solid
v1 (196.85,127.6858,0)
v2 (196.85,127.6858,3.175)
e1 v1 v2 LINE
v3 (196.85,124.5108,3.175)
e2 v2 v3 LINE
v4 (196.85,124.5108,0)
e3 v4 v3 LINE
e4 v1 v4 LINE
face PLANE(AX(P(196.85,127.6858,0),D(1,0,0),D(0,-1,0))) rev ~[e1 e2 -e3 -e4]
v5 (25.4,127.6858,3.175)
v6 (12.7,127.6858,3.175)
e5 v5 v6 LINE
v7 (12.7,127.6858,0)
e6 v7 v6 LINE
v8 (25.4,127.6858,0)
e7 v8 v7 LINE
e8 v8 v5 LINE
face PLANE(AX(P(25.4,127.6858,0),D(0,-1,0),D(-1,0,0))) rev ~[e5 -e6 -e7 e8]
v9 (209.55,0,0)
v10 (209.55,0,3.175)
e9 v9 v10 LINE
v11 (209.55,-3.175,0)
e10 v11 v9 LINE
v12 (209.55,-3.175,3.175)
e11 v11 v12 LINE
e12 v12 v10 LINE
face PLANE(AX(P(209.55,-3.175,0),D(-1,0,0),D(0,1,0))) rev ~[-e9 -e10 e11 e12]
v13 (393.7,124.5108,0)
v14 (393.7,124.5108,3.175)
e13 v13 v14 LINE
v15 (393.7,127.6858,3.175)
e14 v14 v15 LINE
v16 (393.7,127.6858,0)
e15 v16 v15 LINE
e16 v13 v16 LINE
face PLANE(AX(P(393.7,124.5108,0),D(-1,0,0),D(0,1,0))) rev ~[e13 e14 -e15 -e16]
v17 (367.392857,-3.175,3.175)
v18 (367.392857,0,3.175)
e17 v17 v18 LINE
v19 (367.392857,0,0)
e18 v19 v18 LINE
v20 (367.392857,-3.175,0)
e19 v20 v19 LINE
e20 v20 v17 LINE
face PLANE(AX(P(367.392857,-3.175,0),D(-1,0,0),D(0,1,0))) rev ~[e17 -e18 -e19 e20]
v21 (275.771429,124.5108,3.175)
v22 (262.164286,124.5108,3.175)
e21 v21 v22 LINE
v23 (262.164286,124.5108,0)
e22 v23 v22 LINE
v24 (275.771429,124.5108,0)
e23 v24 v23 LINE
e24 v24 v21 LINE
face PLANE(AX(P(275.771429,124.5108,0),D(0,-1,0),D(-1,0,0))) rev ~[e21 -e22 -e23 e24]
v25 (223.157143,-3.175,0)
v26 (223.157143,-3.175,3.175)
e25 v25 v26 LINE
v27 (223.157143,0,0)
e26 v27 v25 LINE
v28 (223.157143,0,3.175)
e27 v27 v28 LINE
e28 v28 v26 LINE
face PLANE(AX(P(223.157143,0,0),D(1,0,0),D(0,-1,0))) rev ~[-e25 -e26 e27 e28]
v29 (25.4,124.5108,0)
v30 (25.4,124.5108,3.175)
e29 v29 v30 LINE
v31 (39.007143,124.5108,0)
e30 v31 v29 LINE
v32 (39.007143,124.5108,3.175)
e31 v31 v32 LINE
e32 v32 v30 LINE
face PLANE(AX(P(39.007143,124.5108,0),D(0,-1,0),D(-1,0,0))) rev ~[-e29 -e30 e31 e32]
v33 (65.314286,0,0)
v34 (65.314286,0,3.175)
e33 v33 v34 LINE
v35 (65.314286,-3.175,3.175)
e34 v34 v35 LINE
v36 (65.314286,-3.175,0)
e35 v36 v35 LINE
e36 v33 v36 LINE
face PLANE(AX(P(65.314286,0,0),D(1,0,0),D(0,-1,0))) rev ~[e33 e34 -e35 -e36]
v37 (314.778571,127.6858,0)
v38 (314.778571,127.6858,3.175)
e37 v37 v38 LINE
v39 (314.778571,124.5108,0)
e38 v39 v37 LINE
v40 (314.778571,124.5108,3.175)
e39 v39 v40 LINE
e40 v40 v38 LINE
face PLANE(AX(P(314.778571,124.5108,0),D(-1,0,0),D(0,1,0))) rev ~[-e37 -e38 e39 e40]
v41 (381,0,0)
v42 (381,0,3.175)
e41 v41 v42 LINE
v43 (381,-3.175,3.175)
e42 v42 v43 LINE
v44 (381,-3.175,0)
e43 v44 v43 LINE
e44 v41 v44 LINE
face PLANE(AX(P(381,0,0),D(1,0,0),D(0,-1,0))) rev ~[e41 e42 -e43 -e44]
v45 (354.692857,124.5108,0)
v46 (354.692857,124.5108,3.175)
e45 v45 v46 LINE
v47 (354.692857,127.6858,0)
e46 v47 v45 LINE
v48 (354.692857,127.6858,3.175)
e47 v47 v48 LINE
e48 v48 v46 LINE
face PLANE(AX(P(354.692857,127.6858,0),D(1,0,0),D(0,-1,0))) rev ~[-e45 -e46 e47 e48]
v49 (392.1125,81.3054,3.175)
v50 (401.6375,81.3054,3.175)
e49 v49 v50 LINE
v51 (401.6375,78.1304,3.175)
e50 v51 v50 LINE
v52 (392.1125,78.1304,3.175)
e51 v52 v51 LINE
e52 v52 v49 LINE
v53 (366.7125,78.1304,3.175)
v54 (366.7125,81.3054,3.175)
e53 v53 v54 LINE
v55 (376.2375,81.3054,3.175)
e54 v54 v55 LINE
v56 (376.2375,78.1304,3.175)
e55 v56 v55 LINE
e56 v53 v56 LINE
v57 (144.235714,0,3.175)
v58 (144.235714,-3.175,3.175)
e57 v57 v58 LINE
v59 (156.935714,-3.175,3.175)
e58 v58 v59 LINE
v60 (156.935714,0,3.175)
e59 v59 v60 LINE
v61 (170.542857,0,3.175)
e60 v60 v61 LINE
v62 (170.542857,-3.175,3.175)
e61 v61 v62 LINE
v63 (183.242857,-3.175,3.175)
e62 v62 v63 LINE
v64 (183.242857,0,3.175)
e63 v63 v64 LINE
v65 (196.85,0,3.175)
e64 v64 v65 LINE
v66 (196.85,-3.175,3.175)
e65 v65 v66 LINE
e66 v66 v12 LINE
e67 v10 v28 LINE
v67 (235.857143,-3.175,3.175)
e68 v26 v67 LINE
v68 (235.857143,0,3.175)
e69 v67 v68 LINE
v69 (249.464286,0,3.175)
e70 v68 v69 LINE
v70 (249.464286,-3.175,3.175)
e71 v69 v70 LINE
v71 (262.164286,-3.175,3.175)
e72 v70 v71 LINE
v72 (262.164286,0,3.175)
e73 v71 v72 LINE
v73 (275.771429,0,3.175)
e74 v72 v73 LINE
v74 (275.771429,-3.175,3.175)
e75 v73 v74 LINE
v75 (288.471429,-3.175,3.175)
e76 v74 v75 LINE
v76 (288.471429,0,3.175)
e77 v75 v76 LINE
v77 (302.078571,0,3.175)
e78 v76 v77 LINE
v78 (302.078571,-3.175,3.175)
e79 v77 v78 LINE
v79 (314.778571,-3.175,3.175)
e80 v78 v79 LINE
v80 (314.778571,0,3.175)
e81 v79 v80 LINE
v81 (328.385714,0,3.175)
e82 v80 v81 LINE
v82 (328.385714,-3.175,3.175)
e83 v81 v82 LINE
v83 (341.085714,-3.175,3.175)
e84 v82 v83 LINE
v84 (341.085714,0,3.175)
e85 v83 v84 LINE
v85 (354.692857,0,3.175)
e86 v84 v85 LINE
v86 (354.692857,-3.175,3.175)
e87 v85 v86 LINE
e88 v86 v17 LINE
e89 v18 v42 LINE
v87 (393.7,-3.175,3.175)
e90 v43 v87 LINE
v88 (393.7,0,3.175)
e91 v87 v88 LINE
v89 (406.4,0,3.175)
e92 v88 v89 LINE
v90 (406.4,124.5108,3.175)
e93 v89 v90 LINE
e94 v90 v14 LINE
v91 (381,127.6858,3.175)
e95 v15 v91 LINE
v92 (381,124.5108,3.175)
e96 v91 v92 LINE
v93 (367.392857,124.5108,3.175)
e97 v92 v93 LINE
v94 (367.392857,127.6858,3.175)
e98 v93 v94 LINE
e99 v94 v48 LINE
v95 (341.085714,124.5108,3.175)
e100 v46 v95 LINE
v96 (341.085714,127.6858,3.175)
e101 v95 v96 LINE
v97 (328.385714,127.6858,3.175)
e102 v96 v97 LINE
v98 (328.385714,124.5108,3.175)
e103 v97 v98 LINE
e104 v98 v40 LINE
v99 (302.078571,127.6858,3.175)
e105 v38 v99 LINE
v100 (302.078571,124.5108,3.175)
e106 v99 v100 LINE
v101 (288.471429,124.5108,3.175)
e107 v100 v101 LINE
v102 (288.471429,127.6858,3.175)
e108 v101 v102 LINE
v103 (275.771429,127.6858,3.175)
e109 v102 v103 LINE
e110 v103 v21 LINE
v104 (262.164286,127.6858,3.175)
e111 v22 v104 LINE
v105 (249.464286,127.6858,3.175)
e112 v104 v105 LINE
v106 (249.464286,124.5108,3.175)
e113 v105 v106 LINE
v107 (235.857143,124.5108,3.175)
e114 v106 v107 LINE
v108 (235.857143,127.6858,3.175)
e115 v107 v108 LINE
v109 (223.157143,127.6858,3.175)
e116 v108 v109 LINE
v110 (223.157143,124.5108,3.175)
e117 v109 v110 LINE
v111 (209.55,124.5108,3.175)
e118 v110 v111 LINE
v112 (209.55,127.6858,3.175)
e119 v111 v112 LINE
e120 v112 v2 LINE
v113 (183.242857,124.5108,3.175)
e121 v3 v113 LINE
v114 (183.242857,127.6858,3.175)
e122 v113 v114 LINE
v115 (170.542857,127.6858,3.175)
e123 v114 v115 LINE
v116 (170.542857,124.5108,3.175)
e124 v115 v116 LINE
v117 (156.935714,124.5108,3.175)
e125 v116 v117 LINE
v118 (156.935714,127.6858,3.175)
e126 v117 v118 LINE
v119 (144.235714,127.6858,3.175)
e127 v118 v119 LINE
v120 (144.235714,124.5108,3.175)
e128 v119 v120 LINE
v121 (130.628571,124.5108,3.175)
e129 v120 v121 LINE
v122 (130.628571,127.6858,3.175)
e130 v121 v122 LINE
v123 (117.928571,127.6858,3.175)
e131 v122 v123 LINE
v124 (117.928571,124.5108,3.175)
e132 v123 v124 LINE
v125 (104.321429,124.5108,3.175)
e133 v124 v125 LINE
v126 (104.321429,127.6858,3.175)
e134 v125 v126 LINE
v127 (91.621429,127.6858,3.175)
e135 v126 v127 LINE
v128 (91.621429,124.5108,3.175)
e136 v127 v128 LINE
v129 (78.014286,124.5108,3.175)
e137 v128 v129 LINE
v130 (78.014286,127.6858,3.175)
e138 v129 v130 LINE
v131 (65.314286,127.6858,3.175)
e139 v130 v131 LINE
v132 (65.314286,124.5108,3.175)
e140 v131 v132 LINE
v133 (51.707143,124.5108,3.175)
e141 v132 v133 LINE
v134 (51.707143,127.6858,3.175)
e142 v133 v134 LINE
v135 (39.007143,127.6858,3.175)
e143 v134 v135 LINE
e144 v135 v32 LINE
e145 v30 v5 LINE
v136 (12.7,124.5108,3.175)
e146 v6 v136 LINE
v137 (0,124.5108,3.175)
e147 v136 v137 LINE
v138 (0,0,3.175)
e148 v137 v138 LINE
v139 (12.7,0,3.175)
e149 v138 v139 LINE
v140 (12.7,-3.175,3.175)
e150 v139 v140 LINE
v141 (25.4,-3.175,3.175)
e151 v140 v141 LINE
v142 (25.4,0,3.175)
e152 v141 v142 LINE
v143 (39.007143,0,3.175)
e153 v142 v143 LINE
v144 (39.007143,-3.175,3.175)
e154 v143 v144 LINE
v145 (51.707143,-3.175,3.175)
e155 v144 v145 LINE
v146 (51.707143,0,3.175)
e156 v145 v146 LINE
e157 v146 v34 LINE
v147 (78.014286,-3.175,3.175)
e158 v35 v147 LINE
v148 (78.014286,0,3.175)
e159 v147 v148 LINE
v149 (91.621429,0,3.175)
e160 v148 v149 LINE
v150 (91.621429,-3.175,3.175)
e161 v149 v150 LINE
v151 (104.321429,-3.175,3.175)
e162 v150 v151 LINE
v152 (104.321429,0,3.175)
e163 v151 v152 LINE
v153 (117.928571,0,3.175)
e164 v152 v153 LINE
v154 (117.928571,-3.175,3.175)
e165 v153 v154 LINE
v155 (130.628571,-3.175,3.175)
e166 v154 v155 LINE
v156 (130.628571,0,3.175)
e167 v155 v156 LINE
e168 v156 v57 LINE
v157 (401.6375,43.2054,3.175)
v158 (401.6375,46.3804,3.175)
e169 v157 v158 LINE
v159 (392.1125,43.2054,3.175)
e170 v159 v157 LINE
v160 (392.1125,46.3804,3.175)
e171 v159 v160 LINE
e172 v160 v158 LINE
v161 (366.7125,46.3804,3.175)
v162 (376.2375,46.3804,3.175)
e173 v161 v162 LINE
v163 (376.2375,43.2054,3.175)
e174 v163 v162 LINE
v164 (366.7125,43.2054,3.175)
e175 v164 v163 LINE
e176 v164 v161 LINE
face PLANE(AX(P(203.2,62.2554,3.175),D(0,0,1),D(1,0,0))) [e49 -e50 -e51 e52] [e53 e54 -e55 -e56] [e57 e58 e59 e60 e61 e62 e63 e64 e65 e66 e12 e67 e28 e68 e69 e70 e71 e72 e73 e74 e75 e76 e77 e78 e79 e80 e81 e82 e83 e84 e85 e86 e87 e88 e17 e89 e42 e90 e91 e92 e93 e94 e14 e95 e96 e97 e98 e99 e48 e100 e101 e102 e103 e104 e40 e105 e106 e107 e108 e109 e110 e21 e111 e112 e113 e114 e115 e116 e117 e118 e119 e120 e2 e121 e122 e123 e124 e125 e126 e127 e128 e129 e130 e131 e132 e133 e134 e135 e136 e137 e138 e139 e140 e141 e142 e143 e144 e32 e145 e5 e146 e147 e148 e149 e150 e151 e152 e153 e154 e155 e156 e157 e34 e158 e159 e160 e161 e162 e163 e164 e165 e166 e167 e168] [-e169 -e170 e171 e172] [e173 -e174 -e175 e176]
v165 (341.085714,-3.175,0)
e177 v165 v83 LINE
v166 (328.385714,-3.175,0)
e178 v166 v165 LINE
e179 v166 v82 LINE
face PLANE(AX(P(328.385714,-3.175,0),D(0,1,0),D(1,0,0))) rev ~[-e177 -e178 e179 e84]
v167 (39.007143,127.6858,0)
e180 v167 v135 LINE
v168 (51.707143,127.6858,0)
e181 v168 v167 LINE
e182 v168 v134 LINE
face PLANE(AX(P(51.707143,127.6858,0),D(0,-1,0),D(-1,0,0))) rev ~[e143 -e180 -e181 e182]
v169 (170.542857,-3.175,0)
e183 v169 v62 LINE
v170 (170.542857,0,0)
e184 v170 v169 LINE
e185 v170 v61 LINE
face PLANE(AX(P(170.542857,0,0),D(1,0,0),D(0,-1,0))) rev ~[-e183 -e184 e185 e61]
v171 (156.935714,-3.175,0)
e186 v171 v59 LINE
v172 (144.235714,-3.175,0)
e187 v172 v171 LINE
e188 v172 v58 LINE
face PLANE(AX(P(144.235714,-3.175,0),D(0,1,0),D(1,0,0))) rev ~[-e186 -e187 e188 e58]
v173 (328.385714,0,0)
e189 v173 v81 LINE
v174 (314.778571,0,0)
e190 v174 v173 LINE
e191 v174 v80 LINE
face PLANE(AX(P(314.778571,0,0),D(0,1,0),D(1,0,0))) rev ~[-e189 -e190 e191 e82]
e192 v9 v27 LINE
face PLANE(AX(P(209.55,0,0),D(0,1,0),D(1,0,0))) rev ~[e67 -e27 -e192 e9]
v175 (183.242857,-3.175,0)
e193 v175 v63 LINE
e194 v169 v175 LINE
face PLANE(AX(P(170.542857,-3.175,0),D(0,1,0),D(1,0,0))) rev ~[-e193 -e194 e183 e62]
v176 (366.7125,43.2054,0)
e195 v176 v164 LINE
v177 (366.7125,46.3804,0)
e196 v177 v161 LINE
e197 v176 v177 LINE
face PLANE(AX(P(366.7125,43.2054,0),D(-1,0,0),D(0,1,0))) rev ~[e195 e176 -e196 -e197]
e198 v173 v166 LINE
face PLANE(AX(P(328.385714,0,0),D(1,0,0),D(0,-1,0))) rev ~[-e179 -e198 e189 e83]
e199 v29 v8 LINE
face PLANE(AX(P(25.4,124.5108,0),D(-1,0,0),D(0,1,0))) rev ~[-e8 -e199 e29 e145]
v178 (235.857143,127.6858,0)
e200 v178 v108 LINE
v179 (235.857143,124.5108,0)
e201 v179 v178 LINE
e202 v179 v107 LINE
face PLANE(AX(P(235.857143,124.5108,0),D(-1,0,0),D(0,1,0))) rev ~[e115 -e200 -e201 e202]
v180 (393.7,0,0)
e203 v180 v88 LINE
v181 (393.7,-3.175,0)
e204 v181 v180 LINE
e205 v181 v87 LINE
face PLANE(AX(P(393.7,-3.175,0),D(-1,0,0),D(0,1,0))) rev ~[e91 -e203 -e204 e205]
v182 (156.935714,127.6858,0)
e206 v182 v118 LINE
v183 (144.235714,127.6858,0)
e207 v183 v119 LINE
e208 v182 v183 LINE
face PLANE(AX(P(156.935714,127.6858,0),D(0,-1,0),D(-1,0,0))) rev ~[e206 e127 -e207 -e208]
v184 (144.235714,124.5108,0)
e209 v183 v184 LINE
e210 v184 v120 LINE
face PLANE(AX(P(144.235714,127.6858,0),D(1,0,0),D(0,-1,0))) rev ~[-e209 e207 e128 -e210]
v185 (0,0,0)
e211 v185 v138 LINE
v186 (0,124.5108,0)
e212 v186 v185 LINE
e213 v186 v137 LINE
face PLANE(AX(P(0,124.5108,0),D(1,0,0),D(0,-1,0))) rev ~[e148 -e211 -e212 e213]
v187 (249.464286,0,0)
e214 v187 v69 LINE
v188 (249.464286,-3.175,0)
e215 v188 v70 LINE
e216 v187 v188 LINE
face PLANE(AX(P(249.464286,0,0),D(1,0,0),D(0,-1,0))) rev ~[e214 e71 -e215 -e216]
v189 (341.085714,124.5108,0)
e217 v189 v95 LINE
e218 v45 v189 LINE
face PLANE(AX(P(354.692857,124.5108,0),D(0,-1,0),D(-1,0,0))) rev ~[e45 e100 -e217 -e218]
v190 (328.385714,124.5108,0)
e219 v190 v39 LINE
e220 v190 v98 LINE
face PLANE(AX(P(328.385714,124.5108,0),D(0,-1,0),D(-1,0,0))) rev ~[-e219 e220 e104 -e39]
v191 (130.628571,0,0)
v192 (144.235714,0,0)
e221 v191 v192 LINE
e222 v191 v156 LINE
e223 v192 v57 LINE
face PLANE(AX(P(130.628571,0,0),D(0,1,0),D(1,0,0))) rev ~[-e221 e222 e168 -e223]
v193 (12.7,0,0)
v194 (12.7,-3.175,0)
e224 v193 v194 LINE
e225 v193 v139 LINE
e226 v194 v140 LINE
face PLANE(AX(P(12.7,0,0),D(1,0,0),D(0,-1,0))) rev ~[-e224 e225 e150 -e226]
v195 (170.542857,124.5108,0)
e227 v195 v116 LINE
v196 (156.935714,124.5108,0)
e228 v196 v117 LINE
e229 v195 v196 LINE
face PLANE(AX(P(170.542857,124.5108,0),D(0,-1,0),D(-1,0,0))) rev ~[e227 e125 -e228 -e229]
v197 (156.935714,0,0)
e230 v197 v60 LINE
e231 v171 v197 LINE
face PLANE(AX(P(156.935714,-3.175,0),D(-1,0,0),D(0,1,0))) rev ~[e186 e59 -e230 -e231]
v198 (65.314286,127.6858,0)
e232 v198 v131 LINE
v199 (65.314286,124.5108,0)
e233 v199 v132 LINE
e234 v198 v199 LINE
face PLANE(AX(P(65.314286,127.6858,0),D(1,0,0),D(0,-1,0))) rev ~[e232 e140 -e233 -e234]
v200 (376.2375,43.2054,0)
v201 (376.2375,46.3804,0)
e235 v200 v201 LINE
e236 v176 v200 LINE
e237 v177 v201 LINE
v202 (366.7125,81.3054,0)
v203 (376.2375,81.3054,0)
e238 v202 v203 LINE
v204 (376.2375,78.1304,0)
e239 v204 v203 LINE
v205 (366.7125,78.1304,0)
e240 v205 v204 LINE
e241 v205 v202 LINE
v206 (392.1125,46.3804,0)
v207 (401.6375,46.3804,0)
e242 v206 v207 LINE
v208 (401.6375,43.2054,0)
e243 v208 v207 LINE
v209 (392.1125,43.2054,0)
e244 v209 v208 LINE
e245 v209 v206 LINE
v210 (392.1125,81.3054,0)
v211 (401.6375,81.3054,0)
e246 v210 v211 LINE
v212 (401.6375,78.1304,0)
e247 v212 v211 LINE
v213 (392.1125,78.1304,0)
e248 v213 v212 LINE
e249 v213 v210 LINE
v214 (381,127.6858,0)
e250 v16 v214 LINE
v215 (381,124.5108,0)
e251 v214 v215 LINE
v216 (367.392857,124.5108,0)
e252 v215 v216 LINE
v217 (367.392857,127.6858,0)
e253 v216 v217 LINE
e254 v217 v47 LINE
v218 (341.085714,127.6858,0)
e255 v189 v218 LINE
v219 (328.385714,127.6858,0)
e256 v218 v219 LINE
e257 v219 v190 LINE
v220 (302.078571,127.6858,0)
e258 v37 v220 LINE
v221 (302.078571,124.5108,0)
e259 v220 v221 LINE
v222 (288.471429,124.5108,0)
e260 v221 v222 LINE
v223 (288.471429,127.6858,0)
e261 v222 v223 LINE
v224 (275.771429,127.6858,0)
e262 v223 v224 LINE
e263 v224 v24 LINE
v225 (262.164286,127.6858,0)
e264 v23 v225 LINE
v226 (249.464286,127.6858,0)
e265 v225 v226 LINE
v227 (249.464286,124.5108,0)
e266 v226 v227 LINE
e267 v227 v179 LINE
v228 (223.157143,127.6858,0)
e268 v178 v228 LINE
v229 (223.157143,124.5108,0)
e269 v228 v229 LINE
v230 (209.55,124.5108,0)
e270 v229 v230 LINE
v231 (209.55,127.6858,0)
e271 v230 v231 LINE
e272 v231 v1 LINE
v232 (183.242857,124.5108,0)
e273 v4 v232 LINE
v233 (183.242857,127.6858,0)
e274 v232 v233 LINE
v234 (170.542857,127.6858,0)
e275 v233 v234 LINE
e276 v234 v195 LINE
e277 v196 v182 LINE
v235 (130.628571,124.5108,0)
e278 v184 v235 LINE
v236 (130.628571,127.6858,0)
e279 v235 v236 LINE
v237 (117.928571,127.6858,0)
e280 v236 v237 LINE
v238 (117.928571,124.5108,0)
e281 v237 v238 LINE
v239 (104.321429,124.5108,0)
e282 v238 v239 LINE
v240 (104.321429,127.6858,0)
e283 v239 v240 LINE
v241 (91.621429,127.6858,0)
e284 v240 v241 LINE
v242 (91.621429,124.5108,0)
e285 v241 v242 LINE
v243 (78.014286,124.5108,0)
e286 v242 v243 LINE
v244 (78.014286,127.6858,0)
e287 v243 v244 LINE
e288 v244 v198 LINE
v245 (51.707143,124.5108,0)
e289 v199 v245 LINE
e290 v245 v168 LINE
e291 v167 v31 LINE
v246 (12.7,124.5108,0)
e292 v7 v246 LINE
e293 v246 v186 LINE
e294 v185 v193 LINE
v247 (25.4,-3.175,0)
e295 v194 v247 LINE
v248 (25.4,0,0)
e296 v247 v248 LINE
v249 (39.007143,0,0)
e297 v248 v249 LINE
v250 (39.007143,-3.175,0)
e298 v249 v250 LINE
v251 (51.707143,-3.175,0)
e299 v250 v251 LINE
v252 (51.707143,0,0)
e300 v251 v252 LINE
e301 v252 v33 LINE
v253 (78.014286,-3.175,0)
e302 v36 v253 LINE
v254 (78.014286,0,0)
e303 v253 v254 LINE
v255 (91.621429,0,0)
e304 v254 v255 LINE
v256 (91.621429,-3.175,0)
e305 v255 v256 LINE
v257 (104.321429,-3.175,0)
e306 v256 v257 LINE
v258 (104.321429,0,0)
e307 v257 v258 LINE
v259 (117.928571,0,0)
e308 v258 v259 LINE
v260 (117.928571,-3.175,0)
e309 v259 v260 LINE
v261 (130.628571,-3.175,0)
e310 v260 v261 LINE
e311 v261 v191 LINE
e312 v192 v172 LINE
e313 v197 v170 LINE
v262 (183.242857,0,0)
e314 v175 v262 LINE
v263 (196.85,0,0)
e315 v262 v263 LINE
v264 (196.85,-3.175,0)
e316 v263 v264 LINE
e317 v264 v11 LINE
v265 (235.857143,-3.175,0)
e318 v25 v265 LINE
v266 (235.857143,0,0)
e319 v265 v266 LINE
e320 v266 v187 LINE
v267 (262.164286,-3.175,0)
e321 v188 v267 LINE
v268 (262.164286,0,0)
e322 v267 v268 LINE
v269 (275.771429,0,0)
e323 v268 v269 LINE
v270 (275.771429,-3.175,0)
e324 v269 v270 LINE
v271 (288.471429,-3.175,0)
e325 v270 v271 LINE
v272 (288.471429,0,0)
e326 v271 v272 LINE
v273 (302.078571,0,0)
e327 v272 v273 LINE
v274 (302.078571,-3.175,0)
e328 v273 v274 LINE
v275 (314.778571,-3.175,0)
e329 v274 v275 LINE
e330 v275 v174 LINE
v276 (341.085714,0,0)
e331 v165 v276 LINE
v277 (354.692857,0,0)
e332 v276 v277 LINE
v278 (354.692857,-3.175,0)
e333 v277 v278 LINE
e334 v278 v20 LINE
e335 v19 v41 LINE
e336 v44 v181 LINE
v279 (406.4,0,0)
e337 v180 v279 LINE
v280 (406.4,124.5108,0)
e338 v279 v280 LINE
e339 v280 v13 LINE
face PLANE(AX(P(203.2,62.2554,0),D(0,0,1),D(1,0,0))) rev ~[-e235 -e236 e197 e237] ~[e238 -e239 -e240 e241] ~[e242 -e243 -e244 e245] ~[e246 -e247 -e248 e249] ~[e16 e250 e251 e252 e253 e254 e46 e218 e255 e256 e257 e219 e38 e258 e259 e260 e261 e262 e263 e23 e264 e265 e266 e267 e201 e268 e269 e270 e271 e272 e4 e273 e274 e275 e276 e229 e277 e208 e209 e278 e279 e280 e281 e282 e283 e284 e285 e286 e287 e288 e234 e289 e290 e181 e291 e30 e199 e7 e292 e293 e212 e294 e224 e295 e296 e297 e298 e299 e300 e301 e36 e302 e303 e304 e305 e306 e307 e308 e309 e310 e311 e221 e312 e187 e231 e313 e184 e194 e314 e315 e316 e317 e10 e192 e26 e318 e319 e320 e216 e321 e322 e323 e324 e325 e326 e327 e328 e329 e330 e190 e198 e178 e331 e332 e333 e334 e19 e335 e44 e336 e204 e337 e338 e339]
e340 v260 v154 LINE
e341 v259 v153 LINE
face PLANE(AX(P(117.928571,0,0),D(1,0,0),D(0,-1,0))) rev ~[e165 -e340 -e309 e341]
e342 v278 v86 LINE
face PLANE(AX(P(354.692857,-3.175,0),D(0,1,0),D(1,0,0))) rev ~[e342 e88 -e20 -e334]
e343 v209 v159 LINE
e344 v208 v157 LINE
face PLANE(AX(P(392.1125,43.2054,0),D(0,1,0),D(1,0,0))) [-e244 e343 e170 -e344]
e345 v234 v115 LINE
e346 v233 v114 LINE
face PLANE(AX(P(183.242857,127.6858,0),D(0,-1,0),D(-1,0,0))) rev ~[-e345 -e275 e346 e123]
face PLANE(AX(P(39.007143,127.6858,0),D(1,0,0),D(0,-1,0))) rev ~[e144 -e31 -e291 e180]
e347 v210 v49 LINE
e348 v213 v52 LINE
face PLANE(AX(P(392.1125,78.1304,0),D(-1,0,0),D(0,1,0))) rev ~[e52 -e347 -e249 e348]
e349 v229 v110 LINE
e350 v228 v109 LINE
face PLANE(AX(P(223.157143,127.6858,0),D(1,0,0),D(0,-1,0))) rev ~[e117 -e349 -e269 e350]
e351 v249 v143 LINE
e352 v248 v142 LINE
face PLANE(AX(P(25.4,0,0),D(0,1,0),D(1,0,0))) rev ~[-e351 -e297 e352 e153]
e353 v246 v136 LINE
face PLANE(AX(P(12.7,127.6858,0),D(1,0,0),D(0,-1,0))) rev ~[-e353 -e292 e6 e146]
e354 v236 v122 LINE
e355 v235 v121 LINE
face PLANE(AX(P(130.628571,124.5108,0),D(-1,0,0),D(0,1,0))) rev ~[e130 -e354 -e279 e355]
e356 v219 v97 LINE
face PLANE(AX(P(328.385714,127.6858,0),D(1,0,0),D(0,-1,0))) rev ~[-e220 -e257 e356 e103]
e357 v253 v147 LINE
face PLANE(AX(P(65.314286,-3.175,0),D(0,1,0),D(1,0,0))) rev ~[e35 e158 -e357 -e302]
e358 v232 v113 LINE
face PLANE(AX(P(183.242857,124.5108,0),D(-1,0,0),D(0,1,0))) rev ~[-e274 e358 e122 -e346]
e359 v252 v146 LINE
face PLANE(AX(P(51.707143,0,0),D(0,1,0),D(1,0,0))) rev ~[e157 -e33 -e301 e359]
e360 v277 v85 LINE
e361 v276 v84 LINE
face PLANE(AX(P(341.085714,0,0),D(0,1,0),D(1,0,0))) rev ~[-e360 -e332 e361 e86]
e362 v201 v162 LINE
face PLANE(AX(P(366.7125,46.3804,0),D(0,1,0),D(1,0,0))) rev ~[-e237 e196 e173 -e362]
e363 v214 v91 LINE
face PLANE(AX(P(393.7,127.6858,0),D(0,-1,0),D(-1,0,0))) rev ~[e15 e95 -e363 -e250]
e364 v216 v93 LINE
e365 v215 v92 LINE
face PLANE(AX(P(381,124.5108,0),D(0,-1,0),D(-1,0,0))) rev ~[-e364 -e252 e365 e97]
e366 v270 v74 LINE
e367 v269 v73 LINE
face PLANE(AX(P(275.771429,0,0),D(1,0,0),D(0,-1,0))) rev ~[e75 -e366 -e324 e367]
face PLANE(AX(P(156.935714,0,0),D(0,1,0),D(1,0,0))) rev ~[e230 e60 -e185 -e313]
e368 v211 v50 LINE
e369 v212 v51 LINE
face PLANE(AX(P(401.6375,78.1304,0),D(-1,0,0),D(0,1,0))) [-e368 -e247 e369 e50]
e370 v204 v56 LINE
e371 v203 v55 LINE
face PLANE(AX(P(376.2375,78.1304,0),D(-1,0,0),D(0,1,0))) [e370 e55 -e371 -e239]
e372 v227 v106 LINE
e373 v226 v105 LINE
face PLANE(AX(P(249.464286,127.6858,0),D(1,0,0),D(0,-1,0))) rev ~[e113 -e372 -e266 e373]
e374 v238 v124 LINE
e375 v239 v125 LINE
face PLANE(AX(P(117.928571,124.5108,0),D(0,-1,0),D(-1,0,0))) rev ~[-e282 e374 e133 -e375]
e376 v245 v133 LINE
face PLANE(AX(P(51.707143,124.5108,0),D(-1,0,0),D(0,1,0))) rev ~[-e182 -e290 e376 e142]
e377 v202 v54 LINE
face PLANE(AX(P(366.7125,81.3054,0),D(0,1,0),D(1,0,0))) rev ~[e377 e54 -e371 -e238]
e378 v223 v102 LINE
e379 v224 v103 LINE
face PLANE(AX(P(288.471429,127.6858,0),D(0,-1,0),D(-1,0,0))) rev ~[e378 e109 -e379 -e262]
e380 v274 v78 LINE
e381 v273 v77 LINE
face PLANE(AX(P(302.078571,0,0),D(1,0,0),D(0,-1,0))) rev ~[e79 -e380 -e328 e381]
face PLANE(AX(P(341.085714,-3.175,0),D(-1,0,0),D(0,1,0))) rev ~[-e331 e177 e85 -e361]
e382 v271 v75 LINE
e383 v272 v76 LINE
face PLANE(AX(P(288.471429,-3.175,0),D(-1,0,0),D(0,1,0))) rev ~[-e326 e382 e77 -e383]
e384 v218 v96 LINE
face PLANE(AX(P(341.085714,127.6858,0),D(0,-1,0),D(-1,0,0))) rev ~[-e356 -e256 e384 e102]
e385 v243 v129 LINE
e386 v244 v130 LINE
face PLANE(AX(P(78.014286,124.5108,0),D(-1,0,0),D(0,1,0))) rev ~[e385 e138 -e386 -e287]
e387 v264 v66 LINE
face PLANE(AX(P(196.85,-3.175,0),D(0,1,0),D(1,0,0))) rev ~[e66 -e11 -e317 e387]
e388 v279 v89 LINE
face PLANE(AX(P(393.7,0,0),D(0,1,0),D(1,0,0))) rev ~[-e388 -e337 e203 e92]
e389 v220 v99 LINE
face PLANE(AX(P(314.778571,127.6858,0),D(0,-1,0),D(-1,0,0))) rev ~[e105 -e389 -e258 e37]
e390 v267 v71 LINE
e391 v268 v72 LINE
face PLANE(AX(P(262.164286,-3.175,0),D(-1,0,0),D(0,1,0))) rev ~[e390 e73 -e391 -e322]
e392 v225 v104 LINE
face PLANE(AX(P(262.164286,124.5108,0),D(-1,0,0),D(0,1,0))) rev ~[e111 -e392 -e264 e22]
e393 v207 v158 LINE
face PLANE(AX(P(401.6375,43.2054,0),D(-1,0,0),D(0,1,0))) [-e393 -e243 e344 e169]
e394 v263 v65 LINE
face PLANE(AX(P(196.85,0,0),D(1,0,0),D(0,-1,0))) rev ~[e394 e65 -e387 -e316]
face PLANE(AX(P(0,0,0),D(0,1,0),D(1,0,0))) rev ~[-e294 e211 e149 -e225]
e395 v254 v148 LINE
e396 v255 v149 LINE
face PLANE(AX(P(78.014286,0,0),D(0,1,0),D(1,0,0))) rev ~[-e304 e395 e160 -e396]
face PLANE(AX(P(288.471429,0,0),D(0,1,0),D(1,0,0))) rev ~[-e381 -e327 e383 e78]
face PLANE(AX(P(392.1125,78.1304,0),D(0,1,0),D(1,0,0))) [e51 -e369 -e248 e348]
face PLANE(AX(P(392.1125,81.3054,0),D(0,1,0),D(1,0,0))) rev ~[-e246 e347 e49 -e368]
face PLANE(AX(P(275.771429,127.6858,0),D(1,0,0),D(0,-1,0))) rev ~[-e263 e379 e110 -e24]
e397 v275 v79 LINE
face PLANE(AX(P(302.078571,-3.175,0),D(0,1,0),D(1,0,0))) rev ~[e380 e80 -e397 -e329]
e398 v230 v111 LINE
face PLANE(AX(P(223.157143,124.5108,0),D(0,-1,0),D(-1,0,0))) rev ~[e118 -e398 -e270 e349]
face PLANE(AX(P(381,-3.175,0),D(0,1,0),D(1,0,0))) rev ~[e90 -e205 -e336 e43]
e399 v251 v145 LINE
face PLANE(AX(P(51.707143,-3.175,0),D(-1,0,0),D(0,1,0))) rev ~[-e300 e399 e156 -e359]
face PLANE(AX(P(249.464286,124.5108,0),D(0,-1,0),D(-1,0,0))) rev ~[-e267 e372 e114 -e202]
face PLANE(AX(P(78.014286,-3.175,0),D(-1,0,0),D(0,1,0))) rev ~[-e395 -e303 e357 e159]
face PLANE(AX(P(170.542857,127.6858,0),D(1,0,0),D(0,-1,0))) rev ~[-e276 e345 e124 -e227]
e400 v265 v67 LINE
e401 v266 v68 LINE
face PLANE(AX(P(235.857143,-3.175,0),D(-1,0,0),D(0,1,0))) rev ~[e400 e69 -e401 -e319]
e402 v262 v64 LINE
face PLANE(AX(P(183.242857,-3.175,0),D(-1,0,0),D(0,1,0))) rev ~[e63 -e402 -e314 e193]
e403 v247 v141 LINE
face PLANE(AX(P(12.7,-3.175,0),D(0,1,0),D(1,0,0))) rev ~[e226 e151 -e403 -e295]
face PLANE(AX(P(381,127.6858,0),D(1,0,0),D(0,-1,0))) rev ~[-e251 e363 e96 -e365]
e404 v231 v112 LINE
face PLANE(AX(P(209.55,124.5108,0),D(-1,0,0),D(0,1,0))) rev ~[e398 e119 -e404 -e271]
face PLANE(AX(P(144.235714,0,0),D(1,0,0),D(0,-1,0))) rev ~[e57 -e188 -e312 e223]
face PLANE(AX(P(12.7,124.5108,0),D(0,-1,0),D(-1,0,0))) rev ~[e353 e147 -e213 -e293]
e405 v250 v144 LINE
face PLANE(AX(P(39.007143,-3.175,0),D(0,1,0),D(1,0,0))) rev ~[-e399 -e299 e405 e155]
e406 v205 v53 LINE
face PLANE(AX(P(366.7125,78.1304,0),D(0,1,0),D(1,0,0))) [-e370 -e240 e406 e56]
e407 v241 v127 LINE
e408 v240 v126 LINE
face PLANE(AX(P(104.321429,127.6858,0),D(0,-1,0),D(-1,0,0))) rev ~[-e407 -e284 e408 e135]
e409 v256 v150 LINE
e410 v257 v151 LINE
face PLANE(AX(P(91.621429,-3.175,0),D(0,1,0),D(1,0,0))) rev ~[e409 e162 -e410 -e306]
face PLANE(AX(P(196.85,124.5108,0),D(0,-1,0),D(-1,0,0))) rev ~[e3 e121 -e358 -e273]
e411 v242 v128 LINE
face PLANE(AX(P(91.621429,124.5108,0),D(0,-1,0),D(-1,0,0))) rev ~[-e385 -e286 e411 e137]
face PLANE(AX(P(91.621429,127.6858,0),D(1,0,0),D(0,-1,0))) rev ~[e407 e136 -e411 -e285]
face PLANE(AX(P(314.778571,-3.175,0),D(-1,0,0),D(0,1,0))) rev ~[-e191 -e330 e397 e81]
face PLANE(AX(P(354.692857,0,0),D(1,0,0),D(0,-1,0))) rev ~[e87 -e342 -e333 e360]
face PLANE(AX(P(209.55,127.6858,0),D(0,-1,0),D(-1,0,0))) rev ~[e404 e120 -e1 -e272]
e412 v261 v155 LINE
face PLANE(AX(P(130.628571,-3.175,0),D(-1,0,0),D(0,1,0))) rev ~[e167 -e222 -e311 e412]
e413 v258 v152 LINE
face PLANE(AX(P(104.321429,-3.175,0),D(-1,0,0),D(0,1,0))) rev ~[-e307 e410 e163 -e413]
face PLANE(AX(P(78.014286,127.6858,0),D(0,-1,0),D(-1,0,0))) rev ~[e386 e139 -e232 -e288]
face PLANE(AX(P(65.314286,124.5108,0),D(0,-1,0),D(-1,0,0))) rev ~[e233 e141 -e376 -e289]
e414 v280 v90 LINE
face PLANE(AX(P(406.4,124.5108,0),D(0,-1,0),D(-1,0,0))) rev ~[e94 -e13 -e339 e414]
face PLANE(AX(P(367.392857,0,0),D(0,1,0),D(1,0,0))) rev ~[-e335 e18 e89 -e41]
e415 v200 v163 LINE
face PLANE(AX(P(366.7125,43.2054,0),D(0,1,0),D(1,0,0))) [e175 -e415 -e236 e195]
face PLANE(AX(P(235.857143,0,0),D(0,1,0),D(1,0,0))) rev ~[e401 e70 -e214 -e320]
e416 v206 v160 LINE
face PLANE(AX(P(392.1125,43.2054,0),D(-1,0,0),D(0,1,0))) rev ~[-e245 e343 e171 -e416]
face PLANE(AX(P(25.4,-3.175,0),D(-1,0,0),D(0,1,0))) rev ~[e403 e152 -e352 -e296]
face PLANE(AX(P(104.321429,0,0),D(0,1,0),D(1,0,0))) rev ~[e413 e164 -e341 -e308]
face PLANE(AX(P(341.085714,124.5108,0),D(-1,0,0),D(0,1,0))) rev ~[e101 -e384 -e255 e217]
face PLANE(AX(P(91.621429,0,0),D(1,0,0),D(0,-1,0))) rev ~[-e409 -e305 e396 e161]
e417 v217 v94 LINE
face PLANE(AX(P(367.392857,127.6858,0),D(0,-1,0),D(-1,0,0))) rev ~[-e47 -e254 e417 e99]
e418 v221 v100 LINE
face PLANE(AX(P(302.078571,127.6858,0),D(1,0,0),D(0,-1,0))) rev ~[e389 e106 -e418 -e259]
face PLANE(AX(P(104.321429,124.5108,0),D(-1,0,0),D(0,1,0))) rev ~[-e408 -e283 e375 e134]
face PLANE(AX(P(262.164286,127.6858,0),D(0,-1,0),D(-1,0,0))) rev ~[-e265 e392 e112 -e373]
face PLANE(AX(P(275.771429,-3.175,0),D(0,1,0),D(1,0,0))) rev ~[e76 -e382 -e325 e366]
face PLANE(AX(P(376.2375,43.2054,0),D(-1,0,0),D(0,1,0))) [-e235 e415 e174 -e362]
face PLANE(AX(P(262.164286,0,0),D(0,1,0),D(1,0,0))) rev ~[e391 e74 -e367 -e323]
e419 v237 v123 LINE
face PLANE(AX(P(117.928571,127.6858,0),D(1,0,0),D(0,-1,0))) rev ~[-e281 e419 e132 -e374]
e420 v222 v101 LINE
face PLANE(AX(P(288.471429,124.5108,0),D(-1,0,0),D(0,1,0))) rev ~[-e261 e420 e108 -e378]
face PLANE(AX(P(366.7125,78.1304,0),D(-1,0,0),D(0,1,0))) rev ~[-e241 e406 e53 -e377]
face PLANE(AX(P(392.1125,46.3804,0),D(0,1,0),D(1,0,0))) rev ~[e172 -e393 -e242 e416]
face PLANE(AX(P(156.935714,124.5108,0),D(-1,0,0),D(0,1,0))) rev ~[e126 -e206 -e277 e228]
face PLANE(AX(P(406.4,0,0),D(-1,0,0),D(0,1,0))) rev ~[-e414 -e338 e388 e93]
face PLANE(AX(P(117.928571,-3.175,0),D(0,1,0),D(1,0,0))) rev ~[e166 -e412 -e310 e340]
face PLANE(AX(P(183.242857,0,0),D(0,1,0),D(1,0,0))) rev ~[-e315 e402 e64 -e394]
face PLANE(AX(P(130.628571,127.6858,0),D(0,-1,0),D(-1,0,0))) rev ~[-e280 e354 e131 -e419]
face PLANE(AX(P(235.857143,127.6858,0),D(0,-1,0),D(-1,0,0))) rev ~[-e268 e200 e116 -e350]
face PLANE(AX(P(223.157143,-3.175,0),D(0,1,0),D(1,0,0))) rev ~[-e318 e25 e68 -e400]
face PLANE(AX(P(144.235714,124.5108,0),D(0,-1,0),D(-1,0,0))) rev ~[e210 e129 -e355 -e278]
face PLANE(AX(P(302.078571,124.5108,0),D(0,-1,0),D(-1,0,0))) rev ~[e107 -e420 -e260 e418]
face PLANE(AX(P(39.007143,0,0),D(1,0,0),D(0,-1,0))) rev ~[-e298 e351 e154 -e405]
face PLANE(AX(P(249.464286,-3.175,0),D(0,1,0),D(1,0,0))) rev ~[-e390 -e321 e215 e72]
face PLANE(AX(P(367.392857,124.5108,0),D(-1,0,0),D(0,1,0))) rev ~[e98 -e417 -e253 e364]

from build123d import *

# Parameters (mm, degrees)
SKETCH1_W           = 9.525
SKETCH1_H           = 3.175
BOSS_EXTRUDE1_DEPTH = 3.175


with BuildPart() as part:
    # Sketch1 → Boss-Extrude1 (new body)
    with BuildSketch(Plane.XY):
        Polygon((406.4, 0), (406.4, 124.5108), (393.7, 124.5108), (393.7, 127.6858), (381, 127.6858), (381, 124.5108), (367.392857143, 124.5108), (367.392857143, 127.6858), (354.692857143, 127.6858), (354.692857143, 124.5108), (341.085714286, 124.5108), (341.085714286, 127.6858), (328.385714286, 127.6858), (328.385714286, 124.5108), (314.778571429, 124.5108), (314.778571429, 127.6858), (302.078571429, 127.6858), (302.078571429, 124.5108), (288.471428571, 124.5108), (288.471428571, 127.6858), (275.771428571, 127.6858), (275.771428571, 124.5108), (262.164285714, 124.5108), (262.164285714, 127.6858), (249.464285714, 127.6858), (249.464285714, 124.5108), (235.857142857, 124.5108), (235.857142857, 127.6858), (223.157142857, 127.6858), (223.157142857, 124.5108), (209.55, 124.5108), (209.55, 127.6858), (196.85, 127.6858), (196.85, 124.5108), (183.242857143, 124.5108), (183.242857143, 127.6858), (170.542857143, 127.6858), (170.542857143, 124.5108), (156.935714286, 124.5108), (156.935714286, 127.6858), (144.235714286, 127.6858), (144.235714286, 124.5108), (130.628571429, 124.5108), (130.628571429, 127.6858), (117.928571429, 127.6858), (117.928571429, 124.5108), (104.321428571, 124.5108), (104.321428571, 127.6858), (91.621428571, 127.6858), (91.621428571, 124.5108), (78.014285714, 124.5108), (78.014285714, 127.6858), (65.314285714, 127.6858), (65.314285714, 124.5108), (51.707142857, 124.5108), (51.707142857, 127.6858), (39.007142857, 127.6858), (39.007142857, 124.5108), (25.4, 124.5108), (25.4, 127.6858), (12.7, 127.6858), (12.7, 124.5108), (0, 124.5108), (0, 0), (12.7, 0), (12.7, -3.175), (25.4, -3.175), (25.4, 0), (39.007142857, 0), (39.007142857, -3.175), (51.707142857, -3.175), (51.707142857, 0), (65.314285714, 0), (65.314285714, -3.175), (78.014285714, -3.175), (78.014285714, 0), (91.621428571, 0), (91.621428571, -3.175), (104.321428571, -3.175), (104.321428571, 0), (117.928571429, 0), (117.928571429, -3.175), (130.628571429, -3.175), (130.628571429, 0), (144.235714286, 0), (144.235714286, -3.175), (156.935714286, -3.175), (156.935714286, 0), (170.542857143, 0), (170.542857143, -3.175), (183.242857143, -3.175), (183.242857143, 0), (196.85, 0), (196.85, -3.175), (209.55, -3.175), (209.55, 0), (223.157142857, 0), (223.157142857, -3.175), (235.857142857, -3.175), (235.857142857, 0), (249.464285714, 0), (249.464285714, -3.175), (262.164285714, -3.175), (262.164285714, 0), (275.771428571, 0), (275.771428571, -3.175), (288.471428571, -3.175), (288.471428571, 0), (302.078571429, 0), (302.078571429, -3.175), (314.778571429, -3.175), (314.778571429, 0), (328.385714286, 0), (328.385714286, -3.175), (341.085714286, -3.175), (341.085714286, 0), (354.692857143, 0), (354.692857143, -3.175), (367.392857143, -3.175), (367.392857143, 0), (381, 0), (381, -3.175), (393.7, -3.175), (393.7, 0), align=None)
        with Locations((396.875, 79.7179)):
            Rectangle(SKETCH1_W, SKETCH1_H, mode=Mode.SUBTRACT)
        with Locations((396.875, 44.7929)):
            Rectangle(SKETCH1_W, SKETCH1_H, mode=Mode.SUBTRACT)
        with Locations((371.475, 79.7179)):
            Rectangle(SKETCH1_W, SKETCH1_H, mode=Mode.SUBTRACT)
        with Locations((371.475, 44.7929)):
            Rectangle(SKETCH1_W, SKETCH1_H, mode=Mode.SUBTRACT)
    extrude(amount=BOSS_EXTRUDE1_DEPTH)


solid = part.part
